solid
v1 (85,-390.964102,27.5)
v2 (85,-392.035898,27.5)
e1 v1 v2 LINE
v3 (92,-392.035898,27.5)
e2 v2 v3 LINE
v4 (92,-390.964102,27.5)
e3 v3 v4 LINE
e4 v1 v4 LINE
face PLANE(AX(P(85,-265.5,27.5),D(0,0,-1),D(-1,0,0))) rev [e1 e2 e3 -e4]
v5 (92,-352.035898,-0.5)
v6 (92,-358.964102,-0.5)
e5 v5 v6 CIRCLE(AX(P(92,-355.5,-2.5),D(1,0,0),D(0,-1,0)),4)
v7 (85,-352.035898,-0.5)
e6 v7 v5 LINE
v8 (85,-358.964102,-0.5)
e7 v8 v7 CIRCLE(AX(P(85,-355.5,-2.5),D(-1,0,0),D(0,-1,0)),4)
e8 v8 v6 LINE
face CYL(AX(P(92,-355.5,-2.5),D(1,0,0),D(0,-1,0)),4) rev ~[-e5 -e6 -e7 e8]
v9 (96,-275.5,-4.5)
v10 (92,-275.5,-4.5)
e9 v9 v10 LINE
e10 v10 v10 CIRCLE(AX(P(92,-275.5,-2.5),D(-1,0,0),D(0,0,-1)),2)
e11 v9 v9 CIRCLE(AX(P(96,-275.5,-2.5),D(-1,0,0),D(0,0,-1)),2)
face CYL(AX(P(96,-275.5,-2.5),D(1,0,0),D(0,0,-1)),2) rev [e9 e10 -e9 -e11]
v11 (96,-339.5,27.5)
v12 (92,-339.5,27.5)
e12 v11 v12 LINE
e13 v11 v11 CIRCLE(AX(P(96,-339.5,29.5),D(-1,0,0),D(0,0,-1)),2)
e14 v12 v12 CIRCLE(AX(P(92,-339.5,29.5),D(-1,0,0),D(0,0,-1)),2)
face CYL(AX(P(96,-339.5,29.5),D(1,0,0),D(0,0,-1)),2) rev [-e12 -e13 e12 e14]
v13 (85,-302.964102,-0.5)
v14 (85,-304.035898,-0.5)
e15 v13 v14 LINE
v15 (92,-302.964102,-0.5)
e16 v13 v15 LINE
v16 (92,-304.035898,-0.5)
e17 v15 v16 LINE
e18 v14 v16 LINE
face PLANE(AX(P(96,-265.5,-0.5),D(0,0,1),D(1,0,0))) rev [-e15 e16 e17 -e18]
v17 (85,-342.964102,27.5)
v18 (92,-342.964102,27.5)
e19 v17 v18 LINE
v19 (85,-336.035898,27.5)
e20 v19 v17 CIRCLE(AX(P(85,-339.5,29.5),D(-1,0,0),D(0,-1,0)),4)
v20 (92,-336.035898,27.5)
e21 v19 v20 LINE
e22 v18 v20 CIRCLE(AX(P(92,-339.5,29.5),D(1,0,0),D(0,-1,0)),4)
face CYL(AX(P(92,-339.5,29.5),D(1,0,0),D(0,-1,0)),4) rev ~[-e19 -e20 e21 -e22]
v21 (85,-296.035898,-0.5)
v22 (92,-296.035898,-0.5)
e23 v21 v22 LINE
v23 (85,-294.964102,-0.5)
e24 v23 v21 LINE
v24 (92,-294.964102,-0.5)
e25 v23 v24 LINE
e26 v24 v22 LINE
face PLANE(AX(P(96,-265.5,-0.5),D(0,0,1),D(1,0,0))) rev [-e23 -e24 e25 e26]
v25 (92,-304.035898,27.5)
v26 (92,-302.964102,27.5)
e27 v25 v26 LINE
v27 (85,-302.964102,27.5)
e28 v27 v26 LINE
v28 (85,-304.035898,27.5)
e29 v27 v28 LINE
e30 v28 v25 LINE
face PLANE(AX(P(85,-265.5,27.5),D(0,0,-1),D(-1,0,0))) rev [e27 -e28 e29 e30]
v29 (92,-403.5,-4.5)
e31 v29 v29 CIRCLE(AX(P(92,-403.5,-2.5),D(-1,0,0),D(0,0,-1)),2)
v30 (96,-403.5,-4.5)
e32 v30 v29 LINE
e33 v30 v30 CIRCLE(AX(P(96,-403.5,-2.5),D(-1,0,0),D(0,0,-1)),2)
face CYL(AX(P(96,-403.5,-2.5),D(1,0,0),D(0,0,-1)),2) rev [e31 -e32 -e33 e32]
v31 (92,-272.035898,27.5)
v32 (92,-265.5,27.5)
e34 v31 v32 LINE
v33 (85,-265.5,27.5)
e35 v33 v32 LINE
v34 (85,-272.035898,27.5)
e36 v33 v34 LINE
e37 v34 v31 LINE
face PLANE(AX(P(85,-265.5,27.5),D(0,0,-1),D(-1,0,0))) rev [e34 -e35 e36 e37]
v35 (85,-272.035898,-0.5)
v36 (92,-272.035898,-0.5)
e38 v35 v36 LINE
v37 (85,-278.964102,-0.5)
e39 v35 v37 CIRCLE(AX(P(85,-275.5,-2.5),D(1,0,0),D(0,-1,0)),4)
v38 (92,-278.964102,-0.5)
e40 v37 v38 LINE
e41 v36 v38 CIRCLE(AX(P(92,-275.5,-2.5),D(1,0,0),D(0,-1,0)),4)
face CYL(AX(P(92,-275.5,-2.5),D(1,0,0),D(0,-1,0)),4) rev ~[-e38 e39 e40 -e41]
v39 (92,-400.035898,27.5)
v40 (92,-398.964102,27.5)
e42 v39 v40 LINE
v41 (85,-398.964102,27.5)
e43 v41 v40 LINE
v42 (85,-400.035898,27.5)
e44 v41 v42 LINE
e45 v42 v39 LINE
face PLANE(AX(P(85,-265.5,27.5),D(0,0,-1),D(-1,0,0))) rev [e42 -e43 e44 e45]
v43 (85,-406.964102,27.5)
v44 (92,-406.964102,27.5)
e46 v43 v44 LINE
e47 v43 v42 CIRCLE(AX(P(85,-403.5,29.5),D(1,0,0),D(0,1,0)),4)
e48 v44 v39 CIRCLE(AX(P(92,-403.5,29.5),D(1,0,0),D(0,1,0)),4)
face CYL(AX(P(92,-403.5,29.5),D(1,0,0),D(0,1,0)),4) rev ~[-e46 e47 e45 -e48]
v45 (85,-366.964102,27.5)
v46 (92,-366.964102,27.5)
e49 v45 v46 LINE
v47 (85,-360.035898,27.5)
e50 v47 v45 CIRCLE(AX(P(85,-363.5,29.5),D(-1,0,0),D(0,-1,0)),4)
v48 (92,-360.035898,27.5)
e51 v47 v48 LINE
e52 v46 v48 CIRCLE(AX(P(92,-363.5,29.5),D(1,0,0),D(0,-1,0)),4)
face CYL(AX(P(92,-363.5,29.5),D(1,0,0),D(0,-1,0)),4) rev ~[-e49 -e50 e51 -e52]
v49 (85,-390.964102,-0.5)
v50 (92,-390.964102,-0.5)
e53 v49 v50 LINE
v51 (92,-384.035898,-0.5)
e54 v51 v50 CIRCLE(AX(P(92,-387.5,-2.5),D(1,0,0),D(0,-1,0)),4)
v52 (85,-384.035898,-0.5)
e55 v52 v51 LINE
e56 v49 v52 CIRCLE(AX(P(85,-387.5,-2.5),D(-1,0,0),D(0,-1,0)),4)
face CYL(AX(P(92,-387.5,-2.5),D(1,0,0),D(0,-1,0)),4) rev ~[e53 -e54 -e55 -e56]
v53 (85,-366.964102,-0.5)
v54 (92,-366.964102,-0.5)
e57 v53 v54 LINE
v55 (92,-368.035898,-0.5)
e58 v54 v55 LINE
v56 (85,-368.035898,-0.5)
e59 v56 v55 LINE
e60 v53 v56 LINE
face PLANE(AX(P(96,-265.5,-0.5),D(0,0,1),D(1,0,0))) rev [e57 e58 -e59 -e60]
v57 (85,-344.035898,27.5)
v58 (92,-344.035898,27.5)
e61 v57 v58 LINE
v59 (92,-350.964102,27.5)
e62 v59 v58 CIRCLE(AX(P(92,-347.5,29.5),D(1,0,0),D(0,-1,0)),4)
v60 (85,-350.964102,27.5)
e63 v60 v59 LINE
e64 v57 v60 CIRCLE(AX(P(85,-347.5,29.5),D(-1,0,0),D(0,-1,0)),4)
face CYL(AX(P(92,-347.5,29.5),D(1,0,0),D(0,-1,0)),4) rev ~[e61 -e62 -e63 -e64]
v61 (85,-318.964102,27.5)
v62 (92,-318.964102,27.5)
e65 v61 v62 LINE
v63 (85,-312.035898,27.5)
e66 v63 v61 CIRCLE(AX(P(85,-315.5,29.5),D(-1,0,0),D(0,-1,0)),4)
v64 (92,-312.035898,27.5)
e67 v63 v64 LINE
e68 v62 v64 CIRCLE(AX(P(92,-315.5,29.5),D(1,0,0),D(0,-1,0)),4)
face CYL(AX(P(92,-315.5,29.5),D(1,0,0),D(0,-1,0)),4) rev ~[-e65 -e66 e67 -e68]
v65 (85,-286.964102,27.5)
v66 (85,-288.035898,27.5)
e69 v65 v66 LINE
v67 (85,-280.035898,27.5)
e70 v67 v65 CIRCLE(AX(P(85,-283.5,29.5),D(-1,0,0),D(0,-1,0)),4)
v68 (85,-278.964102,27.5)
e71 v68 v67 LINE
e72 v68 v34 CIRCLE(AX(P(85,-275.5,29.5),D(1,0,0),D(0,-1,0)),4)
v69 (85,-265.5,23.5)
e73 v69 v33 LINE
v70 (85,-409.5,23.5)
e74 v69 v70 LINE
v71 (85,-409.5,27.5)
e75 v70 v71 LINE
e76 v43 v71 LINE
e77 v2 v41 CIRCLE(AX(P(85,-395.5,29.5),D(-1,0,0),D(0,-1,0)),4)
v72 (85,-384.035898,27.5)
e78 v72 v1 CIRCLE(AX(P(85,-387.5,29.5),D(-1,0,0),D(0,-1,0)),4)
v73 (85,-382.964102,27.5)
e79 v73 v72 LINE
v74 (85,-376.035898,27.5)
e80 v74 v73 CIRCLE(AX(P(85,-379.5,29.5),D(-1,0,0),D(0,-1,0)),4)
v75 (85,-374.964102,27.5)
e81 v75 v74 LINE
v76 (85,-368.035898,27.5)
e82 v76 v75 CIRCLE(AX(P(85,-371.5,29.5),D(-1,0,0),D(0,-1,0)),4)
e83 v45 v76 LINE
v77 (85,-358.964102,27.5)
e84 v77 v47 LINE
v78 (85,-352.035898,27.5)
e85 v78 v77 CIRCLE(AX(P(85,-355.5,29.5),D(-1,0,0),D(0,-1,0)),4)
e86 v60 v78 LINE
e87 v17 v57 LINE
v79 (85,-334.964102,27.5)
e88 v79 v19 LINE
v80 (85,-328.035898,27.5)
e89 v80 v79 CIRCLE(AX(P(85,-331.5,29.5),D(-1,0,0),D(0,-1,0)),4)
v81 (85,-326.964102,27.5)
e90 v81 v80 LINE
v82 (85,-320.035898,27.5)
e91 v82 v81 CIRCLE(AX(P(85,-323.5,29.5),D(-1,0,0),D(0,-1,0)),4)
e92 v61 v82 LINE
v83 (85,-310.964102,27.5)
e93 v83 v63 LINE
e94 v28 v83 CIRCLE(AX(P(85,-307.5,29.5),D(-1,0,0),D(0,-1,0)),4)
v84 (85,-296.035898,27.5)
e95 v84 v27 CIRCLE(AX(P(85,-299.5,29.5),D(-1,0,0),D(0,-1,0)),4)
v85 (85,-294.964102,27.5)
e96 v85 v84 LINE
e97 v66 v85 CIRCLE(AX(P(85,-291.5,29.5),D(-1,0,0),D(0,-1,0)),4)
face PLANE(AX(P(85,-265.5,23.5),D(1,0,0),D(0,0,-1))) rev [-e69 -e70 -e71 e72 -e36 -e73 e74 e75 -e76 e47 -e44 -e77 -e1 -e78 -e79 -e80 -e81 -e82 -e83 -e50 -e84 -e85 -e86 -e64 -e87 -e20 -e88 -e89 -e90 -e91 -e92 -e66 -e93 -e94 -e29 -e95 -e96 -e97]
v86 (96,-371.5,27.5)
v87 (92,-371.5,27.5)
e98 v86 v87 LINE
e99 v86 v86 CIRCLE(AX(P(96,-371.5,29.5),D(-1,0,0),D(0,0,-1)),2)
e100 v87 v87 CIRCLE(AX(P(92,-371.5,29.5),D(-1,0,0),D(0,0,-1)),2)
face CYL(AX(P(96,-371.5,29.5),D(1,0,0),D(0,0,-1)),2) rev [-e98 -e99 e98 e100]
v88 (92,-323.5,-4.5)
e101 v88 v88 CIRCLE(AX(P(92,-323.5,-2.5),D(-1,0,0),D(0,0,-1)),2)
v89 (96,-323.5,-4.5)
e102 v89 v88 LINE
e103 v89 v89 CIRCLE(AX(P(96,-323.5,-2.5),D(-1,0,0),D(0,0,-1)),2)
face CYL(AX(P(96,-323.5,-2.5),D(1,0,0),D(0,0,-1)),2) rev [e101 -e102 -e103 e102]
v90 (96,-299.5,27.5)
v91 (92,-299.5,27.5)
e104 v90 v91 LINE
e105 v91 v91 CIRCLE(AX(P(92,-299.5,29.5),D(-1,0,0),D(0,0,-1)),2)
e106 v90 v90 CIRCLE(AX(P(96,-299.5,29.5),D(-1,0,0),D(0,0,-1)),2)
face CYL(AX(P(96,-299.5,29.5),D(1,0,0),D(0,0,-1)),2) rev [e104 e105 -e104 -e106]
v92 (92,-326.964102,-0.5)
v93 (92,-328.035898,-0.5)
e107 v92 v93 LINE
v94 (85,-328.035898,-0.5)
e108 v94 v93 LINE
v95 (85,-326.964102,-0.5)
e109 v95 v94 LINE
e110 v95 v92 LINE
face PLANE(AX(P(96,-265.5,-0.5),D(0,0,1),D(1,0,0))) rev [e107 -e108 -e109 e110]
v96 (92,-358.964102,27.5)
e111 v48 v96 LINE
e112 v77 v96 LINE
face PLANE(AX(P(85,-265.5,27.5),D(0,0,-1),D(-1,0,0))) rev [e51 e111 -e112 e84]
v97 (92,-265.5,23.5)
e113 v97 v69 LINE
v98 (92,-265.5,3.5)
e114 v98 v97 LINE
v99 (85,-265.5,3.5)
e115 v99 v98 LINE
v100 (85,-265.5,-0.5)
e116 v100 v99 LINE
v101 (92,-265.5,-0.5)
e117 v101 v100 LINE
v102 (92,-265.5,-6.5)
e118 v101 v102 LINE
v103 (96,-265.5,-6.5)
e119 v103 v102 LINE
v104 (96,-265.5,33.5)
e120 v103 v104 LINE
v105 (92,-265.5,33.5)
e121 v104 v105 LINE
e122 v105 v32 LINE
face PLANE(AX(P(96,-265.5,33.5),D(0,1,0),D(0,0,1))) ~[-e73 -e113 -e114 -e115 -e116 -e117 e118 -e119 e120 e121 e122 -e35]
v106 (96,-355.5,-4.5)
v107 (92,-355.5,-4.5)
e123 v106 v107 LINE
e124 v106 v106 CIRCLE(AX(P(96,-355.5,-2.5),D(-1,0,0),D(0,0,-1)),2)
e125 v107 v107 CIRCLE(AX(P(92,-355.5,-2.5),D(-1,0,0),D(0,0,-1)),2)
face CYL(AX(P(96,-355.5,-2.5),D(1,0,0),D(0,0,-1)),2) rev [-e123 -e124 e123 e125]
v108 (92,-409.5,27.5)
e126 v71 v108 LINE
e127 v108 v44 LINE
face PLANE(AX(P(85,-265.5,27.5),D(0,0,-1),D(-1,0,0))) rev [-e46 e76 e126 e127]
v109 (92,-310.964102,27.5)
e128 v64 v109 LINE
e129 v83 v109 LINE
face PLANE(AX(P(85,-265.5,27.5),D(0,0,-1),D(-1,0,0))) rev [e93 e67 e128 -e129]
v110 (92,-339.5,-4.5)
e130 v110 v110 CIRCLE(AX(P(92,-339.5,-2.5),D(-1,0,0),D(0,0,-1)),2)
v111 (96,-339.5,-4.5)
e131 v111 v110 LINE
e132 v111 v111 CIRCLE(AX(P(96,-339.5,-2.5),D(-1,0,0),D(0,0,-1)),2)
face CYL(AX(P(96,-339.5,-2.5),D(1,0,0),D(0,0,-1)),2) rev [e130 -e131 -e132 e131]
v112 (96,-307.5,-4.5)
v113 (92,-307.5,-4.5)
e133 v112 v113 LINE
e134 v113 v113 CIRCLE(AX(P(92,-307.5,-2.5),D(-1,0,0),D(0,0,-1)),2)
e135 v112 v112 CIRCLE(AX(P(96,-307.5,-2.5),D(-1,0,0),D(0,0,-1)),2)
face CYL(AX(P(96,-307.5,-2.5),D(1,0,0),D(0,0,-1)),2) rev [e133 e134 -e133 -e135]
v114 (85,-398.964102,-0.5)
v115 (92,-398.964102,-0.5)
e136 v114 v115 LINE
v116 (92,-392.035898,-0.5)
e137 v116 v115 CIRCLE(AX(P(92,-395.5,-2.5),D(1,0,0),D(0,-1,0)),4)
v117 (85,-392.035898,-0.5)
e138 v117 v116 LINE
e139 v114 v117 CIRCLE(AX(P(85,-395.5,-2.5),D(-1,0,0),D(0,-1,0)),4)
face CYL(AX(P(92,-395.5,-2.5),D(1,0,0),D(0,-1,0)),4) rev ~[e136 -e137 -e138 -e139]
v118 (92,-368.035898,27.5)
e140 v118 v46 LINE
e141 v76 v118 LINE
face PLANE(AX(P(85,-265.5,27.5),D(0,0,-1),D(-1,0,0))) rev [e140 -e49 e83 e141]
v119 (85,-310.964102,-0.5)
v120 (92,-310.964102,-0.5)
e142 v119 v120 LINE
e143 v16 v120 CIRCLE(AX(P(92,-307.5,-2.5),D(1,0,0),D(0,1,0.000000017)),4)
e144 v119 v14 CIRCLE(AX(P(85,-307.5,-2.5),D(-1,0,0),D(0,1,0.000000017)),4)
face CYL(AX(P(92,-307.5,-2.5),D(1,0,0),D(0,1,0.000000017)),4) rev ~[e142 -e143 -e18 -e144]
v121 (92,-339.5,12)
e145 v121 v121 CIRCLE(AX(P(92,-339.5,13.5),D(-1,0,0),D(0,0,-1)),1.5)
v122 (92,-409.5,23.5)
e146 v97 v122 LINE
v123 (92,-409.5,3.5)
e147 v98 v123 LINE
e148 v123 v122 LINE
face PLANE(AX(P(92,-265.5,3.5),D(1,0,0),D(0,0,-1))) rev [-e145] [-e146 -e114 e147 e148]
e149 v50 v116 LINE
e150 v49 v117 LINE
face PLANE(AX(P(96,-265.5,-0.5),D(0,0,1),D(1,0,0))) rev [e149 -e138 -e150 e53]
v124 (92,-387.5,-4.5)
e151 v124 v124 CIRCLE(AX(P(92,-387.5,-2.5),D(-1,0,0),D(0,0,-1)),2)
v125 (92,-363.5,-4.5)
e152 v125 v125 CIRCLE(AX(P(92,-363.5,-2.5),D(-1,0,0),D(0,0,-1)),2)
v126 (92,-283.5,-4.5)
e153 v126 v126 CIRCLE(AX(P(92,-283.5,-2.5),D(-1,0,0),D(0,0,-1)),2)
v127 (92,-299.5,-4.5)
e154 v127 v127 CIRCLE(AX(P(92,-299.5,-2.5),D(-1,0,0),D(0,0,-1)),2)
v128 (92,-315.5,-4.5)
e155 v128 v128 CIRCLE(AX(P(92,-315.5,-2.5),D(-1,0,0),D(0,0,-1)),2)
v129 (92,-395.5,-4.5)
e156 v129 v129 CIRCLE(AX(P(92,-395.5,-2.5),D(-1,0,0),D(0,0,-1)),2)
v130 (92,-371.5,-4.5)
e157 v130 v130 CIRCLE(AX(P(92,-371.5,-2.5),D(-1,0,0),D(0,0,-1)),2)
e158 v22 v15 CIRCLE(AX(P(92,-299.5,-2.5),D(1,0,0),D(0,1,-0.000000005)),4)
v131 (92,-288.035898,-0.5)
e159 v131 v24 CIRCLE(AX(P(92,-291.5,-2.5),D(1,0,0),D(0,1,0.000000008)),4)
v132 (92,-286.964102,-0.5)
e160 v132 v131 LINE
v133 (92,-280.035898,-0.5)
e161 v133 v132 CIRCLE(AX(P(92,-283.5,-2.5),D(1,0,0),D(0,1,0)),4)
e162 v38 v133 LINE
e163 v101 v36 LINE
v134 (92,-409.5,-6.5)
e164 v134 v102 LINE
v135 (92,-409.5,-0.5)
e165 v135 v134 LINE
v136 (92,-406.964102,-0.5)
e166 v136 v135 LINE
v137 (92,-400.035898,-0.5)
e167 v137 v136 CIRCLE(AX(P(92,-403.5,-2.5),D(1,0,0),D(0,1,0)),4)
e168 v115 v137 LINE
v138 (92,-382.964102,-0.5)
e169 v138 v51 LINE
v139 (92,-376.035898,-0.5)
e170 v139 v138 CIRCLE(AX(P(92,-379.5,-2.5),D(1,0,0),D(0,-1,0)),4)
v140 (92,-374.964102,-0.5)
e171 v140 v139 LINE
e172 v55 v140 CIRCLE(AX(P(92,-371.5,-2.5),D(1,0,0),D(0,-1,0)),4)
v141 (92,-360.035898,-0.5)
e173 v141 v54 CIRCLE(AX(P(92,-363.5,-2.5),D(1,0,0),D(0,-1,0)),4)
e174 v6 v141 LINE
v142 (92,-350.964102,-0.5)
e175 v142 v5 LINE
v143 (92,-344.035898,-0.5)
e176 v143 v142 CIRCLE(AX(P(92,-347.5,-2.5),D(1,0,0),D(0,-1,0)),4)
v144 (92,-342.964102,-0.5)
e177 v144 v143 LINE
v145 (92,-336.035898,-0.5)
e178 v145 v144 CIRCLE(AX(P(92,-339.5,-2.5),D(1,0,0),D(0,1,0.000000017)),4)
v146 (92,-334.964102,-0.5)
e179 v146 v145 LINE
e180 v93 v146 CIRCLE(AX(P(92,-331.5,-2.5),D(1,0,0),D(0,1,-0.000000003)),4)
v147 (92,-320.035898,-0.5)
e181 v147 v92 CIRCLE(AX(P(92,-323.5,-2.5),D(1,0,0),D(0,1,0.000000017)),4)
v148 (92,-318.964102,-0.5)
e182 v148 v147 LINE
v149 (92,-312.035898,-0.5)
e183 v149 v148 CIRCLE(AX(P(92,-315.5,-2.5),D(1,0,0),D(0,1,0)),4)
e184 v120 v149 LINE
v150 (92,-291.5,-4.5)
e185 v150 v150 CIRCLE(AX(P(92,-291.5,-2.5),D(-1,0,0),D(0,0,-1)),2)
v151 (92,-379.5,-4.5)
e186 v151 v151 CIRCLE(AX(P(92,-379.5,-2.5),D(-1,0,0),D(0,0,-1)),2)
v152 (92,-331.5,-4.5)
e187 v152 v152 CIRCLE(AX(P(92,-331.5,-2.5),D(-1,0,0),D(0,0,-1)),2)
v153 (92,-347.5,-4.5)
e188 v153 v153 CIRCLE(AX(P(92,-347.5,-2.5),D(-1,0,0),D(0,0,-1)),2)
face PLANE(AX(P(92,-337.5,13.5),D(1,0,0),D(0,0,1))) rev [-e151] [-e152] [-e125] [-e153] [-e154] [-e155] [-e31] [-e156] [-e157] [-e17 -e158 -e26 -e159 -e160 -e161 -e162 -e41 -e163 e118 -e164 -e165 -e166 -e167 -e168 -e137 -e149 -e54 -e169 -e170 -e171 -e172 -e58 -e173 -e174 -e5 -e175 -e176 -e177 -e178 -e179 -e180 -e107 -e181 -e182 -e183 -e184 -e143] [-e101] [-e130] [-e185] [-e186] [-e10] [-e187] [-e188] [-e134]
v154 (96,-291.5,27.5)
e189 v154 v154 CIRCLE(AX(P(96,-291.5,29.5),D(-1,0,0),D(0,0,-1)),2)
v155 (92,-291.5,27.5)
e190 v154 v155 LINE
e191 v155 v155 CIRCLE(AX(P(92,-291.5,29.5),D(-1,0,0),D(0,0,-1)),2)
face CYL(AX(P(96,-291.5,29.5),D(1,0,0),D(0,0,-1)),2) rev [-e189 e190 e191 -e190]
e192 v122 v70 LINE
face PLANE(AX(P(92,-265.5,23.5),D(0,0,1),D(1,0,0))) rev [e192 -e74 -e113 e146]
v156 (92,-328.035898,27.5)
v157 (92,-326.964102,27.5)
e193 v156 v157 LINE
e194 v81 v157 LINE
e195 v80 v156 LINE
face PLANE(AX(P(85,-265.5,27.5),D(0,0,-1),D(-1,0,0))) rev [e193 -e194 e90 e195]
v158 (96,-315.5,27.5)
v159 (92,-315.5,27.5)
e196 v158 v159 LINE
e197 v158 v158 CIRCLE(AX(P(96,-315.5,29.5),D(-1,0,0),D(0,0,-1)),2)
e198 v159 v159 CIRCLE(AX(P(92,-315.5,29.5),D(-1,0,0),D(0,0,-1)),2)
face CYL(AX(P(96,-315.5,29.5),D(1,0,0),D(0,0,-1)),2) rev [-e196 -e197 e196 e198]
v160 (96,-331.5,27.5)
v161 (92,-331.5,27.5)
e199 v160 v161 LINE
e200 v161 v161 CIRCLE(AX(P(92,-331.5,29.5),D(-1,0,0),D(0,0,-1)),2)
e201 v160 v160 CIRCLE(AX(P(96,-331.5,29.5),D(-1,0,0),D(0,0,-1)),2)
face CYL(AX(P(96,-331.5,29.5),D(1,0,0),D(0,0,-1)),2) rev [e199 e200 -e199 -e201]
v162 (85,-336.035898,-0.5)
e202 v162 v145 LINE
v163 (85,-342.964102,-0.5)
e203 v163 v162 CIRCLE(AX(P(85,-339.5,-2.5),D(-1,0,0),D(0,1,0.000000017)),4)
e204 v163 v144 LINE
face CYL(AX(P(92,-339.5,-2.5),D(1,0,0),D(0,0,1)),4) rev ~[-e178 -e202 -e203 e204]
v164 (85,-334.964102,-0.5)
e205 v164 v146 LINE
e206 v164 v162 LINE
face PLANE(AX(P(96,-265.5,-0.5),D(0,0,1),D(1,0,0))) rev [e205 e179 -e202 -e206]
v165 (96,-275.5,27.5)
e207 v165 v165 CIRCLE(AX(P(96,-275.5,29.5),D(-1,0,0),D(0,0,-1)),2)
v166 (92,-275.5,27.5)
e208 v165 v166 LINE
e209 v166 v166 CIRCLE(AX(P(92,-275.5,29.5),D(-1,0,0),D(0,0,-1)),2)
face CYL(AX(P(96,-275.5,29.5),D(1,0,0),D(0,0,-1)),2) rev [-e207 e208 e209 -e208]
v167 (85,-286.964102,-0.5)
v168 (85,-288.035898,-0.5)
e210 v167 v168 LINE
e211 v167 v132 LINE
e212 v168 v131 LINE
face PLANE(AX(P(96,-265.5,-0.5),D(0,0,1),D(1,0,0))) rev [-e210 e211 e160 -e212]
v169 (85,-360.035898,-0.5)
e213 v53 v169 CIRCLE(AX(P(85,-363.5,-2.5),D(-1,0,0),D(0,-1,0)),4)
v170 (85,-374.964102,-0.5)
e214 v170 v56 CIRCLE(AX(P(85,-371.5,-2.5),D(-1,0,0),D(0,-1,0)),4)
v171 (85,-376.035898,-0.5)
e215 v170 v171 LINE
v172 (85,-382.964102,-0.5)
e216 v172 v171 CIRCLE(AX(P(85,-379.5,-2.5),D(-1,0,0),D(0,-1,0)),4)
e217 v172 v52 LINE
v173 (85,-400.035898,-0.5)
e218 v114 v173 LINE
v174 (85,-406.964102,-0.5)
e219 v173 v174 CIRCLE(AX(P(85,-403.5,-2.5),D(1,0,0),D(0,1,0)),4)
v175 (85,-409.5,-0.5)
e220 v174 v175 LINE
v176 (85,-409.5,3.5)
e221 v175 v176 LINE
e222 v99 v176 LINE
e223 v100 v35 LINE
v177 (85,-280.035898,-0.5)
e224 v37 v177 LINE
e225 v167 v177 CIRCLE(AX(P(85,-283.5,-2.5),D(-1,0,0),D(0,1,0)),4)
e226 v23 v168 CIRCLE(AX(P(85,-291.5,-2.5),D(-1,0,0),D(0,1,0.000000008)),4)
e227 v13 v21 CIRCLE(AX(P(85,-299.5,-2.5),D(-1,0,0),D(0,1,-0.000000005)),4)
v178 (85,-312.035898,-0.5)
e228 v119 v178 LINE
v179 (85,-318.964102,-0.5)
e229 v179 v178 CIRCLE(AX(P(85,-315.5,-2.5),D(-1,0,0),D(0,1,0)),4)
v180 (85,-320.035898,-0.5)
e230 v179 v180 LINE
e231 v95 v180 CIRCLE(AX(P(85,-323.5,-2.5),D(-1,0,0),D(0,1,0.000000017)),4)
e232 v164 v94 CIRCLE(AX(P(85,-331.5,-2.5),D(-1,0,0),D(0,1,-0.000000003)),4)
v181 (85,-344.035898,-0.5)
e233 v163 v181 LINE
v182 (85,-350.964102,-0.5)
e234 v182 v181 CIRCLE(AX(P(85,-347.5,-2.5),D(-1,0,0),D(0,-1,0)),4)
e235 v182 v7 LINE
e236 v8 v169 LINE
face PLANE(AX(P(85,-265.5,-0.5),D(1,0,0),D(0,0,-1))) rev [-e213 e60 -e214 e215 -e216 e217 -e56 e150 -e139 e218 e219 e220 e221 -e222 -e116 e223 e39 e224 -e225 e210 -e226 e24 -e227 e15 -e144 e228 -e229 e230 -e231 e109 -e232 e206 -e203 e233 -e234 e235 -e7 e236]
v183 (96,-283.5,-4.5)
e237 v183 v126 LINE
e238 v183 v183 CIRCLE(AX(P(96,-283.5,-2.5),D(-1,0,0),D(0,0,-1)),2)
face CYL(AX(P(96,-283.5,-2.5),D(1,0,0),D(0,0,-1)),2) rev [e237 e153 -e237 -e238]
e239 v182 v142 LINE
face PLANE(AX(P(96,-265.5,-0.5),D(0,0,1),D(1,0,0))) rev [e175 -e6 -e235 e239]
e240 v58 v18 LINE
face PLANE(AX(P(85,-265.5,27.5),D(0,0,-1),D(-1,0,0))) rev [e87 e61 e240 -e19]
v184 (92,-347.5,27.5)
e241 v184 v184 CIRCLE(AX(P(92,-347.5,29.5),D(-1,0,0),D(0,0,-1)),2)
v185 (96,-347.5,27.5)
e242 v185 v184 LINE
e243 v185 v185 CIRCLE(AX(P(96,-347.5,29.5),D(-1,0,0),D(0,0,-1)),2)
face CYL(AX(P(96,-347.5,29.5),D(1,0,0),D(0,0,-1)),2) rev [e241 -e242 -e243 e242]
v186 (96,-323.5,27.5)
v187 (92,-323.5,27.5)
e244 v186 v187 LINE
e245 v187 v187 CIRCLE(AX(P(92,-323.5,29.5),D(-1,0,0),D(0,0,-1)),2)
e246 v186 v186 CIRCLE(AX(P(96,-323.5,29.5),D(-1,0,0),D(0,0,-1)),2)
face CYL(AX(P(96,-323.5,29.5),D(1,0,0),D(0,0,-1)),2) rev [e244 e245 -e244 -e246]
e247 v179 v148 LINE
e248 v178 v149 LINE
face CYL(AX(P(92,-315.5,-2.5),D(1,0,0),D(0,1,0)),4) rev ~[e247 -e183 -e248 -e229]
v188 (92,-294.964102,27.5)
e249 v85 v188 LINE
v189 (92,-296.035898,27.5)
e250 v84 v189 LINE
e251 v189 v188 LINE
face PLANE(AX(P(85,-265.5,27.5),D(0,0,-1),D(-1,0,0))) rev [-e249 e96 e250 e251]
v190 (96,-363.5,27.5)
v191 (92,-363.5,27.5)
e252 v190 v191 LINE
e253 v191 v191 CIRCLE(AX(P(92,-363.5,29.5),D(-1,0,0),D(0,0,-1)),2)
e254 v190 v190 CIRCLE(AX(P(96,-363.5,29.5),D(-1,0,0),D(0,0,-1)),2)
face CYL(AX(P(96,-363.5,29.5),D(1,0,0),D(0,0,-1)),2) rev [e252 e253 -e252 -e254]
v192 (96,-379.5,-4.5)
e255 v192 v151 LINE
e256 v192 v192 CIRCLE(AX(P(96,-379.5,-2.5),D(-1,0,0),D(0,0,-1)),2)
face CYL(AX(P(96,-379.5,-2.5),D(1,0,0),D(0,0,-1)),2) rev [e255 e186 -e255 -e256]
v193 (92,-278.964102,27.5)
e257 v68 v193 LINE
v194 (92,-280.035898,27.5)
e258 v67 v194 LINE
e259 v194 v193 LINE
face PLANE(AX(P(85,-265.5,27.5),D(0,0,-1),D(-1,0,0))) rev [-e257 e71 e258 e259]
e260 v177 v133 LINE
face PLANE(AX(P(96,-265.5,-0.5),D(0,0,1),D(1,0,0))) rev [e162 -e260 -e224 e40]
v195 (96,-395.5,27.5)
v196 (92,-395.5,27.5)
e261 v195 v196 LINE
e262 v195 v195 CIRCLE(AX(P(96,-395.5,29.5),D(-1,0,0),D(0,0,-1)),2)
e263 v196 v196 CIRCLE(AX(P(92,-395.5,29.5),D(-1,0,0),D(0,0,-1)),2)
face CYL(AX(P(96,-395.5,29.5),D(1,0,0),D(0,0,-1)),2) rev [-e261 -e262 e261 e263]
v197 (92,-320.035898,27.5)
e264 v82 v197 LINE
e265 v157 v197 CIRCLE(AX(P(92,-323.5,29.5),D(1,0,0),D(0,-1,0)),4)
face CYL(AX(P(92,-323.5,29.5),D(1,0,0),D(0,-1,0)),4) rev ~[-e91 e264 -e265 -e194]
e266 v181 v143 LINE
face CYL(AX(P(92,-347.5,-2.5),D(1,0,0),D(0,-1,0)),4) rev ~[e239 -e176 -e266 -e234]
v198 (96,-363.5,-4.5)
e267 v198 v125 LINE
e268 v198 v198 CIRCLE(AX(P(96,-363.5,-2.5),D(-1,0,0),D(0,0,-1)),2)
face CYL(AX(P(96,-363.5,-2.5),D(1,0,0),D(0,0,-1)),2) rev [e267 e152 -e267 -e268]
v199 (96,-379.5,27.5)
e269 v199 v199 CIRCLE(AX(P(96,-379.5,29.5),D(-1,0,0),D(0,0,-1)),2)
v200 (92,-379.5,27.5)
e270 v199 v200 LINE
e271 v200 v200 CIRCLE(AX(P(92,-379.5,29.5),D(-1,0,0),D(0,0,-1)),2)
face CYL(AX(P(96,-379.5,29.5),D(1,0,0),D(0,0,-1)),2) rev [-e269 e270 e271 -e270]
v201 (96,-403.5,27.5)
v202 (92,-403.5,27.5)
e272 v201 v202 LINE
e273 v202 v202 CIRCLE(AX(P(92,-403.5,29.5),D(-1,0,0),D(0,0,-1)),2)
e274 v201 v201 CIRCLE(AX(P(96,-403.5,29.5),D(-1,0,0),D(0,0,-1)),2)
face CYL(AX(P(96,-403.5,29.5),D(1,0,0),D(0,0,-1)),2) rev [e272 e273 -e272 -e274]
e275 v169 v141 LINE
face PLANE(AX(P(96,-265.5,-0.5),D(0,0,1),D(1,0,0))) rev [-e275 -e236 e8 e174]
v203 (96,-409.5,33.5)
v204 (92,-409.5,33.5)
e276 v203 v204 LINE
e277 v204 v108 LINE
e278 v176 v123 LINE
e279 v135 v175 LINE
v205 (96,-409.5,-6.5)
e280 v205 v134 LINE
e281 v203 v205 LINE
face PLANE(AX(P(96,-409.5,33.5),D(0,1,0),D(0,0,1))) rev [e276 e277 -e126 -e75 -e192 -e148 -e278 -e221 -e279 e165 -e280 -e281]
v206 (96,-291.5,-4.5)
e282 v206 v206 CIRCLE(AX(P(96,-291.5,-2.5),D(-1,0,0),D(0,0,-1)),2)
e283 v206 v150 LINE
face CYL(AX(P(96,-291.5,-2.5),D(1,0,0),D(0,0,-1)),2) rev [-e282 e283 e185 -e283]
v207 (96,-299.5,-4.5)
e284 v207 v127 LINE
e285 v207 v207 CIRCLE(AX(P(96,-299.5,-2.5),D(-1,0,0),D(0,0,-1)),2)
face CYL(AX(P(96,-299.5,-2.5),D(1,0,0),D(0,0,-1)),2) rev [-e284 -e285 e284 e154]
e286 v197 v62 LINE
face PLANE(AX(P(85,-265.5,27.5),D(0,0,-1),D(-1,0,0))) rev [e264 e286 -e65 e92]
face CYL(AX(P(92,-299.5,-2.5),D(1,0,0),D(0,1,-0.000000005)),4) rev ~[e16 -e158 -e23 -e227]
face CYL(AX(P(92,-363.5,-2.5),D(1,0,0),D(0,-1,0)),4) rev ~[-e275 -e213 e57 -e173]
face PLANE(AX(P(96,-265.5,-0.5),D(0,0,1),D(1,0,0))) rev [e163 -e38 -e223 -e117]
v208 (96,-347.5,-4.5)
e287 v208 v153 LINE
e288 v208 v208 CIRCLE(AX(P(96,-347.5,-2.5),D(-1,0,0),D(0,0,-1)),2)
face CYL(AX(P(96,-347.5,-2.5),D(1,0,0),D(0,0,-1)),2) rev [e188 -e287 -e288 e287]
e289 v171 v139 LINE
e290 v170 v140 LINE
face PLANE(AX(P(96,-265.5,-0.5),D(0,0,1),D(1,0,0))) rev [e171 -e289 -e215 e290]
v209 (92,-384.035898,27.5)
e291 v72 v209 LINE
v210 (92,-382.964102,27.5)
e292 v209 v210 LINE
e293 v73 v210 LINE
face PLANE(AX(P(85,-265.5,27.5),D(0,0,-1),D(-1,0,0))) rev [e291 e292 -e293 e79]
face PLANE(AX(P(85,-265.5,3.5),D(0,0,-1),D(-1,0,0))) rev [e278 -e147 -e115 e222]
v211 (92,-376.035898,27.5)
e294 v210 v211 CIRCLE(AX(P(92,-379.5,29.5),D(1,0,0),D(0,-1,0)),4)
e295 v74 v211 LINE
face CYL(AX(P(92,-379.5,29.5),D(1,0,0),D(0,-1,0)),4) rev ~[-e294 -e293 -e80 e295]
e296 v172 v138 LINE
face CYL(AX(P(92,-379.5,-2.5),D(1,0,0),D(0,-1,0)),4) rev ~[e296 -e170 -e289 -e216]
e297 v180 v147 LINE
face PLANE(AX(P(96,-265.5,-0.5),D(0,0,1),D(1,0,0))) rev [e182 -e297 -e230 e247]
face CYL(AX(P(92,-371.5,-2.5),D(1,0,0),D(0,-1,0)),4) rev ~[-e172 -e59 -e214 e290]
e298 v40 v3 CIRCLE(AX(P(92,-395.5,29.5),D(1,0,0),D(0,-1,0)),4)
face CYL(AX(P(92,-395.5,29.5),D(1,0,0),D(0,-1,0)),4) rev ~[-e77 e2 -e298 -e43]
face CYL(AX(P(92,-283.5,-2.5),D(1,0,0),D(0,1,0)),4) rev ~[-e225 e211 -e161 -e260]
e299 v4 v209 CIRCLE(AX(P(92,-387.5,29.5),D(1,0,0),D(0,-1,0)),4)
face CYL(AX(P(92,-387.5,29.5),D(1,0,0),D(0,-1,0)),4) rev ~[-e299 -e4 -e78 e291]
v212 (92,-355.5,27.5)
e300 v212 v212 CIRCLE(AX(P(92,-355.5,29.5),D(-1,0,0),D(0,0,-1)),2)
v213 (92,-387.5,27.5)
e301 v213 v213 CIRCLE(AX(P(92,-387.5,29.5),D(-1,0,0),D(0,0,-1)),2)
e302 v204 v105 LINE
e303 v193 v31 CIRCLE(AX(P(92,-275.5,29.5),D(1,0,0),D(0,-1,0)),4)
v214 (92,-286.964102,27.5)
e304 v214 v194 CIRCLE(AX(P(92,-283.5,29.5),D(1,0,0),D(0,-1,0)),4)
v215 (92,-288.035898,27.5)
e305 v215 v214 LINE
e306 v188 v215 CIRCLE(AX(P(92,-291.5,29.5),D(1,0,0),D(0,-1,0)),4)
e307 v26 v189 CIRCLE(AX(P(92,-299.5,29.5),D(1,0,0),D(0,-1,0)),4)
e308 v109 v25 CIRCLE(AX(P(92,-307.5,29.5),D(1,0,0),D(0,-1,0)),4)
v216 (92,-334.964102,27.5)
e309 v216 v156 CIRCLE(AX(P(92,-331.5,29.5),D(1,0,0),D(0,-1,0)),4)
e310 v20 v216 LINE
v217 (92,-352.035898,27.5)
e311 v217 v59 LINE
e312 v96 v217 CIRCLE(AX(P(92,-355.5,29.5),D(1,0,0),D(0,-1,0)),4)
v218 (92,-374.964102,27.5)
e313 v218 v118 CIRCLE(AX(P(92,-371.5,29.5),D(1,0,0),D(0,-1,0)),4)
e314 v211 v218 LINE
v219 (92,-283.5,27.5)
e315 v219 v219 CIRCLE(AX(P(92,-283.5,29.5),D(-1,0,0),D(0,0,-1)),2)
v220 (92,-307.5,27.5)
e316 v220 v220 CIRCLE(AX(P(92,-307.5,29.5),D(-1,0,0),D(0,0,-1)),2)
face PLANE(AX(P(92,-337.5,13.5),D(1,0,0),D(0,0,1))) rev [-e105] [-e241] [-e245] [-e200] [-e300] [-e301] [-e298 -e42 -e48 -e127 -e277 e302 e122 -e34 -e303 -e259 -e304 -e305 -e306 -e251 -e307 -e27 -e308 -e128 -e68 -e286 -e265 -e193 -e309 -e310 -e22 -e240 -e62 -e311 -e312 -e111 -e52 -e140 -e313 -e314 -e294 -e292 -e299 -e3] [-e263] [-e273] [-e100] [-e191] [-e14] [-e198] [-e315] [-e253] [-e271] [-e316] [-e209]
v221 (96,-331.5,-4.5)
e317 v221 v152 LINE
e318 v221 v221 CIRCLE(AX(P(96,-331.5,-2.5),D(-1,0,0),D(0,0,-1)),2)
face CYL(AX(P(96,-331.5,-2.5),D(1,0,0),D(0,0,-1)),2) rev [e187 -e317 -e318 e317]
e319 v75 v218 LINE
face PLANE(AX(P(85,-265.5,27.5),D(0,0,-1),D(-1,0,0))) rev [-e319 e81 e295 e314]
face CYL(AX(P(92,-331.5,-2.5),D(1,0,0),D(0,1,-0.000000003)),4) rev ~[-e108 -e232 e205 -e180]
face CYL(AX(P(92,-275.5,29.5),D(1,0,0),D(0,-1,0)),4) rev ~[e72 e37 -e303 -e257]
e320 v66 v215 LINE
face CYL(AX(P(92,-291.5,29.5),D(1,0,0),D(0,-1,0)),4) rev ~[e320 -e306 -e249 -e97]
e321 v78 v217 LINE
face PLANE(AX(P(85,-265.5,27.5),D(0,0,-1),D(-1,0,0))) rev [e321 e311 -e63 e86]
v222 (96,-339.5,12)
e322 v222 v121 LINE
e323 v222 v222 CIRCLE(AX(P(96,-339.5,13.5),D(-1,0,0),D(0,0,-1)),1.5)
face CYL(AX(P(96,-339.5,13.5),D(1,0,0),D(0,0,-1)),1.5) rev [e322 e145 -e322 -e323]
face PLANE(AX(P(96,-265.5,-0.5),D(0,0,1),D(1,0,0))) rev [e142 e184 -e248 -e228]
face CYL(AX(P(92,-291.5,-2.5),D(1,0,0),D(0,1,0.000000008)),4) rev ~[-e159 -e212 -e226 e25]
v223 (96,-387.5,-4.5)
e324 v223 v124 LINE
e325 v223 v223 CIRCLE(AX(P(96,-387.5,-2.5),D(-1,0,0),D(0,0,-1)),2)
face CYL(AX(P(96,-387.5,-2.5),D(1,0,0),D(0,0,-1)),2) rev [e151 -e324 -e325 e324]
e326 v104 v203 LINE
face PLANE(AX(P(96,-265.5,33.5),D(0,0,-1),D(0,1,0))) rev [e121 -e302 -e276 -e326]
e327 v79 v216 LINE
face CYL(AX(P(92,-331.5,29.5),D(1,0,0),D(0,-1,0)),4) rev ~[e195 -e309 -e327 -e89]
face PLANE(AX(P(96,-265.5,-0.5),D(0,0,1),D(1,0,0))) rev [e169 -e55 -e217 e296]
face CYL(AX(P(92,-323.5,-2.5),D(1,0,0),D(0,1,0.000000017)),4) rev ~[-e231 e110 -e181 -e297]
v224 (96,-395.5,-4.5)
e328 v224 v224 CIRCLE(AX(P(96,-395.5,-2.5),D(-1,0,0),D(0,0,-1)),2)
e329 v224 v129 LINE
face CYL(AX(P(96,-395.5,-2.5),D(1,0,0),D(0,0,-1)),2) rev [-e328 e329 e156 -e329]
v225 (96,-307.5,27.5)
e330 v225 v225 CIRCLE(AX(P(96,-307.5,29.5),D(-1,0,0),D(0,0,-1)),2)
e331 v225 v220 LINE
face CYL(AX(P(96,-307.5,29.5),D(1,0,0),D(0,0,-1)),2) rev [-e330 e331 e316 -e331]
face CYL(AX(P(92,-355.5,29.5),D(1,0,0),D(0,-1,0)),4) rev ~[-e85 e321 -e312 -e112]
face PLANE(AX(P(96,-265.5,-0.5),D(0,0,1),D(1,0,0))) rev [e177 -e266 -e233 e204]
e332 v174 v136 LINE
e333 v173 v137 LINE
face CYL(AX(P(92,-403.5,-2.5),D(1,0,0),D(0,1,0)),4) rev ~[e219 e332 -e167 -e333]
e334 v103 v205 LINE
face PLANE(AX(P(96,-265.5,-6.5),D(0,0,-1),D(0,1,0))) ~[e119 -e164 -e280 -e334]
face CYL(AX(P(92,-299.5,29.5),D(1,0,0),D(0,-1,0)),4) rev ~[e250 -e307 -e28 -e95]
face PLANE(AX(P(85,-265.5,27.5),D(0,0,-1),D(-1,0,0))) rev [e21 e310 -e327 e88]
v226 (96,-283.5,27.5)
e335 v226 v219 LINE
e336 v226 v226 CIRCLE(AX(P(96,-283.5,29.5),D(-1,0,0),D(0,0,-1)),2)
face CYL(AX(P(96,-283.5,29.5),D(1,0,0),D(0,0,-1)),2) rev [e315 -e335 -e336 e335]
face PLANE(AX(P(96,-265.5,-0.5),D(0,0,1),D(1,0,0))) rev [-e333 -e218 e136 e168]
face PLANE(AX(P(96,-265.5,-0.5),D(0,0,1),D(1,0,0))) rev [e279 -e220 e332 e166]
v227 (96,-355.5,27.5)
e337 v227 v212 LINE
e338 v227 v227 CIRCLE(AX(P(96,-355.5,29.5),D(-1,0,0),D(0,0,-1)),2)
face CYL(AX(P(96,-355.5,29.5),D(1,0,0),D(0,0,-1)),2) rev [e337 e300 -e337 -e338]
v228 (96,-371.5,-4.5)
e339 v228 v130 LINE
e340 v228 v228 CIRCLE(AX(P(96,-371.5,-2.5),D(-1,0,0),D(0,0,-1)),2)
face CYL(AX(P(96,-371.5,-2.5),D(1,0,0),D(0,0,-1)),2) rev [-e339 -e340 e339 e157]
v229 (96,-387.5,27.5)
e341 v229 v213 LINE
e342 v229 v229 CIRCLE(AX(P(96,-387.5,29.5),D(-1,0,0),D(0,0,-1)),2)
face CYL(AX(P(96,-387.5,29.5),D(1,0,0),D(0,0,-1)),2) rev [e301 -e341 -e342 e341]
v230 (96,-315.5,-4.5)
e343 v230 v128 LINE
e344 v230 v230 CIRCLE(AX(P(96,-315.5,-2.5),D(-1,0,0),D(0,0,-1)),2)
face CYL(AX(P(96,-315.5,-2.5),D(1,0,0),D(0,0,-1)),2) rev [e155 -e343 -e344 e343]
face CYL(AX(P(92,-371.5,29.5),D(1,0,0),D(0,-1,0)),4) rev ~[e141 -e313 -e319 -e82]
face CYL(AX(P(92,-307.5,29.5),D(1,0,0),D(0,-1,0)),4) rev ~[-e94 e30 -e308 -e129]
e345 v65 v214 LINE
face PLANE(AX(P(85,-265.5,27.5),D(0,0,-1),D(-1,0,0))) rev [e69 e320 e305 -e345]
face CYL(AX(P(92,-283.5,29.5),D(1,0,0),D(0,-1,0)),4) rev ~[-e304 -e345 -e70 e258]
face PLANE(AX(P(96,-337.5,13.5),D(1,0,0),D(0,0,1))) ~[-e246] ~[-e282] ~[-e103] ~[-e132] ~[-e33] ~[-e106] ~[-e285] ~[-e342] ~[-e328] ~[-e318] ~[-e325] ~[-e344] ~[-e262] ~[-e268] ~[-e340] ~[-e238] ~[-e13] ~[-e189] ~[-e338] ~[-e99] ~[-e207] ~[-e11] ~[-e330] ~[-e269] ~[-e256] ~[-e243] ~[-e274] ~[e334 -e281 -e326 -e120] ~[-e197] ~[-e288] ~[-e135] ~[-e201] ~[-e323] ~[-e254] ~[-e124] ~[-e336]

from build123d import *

# Parameters (mm, degrees)
PAD004_DEPTH    = 144
SKETCH051_W     = 40
SKETCH051_H     = 144
PAD005_DEPTH    = 4
SKETCH052_R     = 1.5
POCKET019_DEPTH = 5
SKETCH014_R     = 2
POCKET020_DEPTH = 4
SKETCH015_R     = 4
POCKET021_DEPTH = 7


with BuildPart() as leftback001:
    # Sketch050 → Pad004 (new body)
    with BuildSketch(Plane.XZ):
        Polygon((0, 0), (0, 10), (7, 10), (7, 14), (-4, 14), (-4, -14), (7, -14), (7, -10), (0, -10), align=None)
    extrude(amount=PAD004_DEPTH)

    # Sketch051 (on Face4 of Pad004) → Pad005 (join)
    with BuildSketch(Plane(origin=(-4, 0, 0), x_dir=(0, 0, -1), z_dir=(-1, 0, 0))):
        with Locations((0, 72)):
            Rectangle(SKETCH051_W, SKETCH051_H)
    extrude(amount=-PAD005_DEPTH)

    # Sketch052 (on Face14 of Pad005) → Pocket019 (cut)
    with BuildSketch(Plane(origin=(-4, 0, 0), x_dir=(0, 0, -1), z_dir=(-1, 0, 0))):
        with Locations((0, 74)):
            Circle(SKETCH052_R)
    extrude(amount=-POCKET019_DEPTH, mode=Mode.SUBTRACT)

    # Sketch014 (on Face13 of Pocket019) → Pocket020 (cut)
    with BuildSketch(Plane(origin=(-4, 0, 0), x_dir=(0, 0, -1), z_dir=(-1, 0, 0))):
        with Locations((-16, 10)):
            Circle(SKETCH014_R)
        with Locations((-16, 18)):
            Circle(SKETCH014_R)
        with Locations((-16, 26)):
            Circle(SKETCH014_R)
        with Locations((-16, 34)):
            Circle(SKETCH014_R)
        with Locations((-16, 42)):
            Circle(SKETCH014_R)
        with Locations((-16, 50)):
            Circle(SKETCH014_R)
        with Locations((-16, 58)):
            Circle(SKETCH014_R)
        with Locations((-16, 66)):
            Circle(SKETCH014_R)
        with Locations((-16, 138)):
            Circle(SKETCH014_R)
        with Locations((-16, 130)):
            Circle(SKETCH014_R)
        with Locations((-16, 122)):
            Circle(SKETCH014_R)
        with Locations((-16, 114)):
            Circle(SKETCH014_R)
        with Locations((-16, 106)):
            Circle(SKETCH014_R)
        with Locations((-16, 98)):
            Circle(SKETCH014_R)
        with Locations((-16, 90)):
            Circle(SKETCH014_R)
        with Locations((-16, 82)):
            Circle(SKETCH014_R)
        with Locations((-16, 74)):
            Circle(SKETCH014_R)
        with Locations((16, 138)):
            Circle(SKETCH014_R)
        with Locations((16, 130)):
            Circle(SKETCH014_R)
        with Locations((16, 122)):
            Circle(SKETCH014_R)
        with Locations((16, 114)):
            Circle(SKETCH014_R)
        with Locations((16, 106)):
            Circle(SKETCH014_R)
        with Locations((16, 98)):
            Circle(SKETCH014_R)
        with Locations((16, 90)):
            Circle(SKETCH014_R)
        with Locations((16, 82)):
            Circle(SKETCH014_R)
        with Locations((16, 74)):
            Circle(SKETCH014_R)
        with Locations((16, 66)):
            Circle(SKETCH014_R)
        with Locations((16, 58)):
            Circle(SKETCH014_R)
        with Locations((16, 50)):
            Circle(SKETCH014_R)
        with Locations((16, 42)):
            Circle(SKETCH014_R)
        with Locations((16, 34)):
            Circle(SKETCH014_R)
        with Locations((16, 26)):
            Circle(SKETCH014_R)
        with Locations((16, 18)):
            Circle(SKETCH014_R)
        with Locations((16, 10)):
            Circle(SKETCH014_R)
    extrude(amount=-POCKET020_DEPTH, mode=Mode.SUBTRACT)

    # Sketch015 (on Face15 of Pocket019) → Pocket021 (cut)
    with BuildSketch(Plane(origin=(0, 0, 0), x_dir=(0, 0, 1), z_dir=(1, 0, 0))):
        with Locations((-16, 10)):
            Circle(SKETCH015_R)
        with Locations((-16, 18)):
            Circle(SKETCH015_R)
        with Locations((-16, 26)):
            Circle(SKETCH015_R)
        with Locations((-16, 34)):
            Circle(SKETCH015_R)
        with Locations((-16, 42)):
            Circle(SKETCH015_R)
        with Locations((-16, 50)):
            Circle(SKETCH015_R)
        with Locations((-16, 58)):
            Circle(SKETCH015_R)
        with Locations((-16, 66)):
            Circle(SKETCH015_R)
        with Locations((-16, 138)):
            Circle(SKETCH015_R)
        with Locations((-16, 130)):
            Circle(SKETCH015_R)
        with Locations((-16, 122)):
            Circle(SKETCH015_R)
        with Locations((-16, 114)):
            Circle(SKETCH015_R)
        with Locations((-16, 106)):
            Circle(SKETCH015_R)
        with Locations((-16, 98)):
            Circle(SKETCH015_R)
        with Locations((-16, 90)):
            Circle(SKETCH015_R)
        with Locations((-16, 82)):
            Circle(SKETCH015_R)
        with Locations((-16, 74)):
            Circle(SKETCH015_R)
        with Locations((16, 138)):
            Circle(SKETCH015_R)
        with Locations((16, 130)):
            Circle(SKETCH015_R)
        with Locations((16, 122)):
            Circle(SKETCH015_R)
        with Locations((16, 114)):
            Circle(SKETCH015_R)
        with Locations((16, 106)):
            Circle(SKETCH015_R)
        with Locations((16, 98)):
            Circle(SKETCH015_R)
        with Locations((16, 90)):
            Circle(SKETCH015_R)
        with Locations((16, 82)):
            Circle(SKETCH015_R)
        with Locations((16, 74)):
            Circle(SKETCH015_R)
        with Locations((16, 66)):
            Circle(SKETCH015_R)
        with Locations((16, 58)):
            Circle(SKETCH015_R)
        with Locations((16, 50)):
            Circle(SKETCH015_R)
        with Locations((16, 42)):
            Circle(SKETCH015_R)
        with Locations((16, 34)):
            Circle(SKETCH015_R)
        with Locations((16, 26)):
            Circle(SKETCH015_R)
        with Locations((16, 18)):
            Circle(SKETCH015_R)
        with Locations((16, 10)):
            Circle(SKETCH015_R)
    extrude(amount=POCKET021_DEPTH, mode=Mode.SUBTRACT)


with BuildPart() as leftback001_1:
    # Body016 placement: moved
    add(leftback001.part.moved(Location((-92, -265.5, 13.5))))


with BuildPart() as rightback001:
    # Part__Mirroring004: instance of LeftBack001
    add(leftback001_1.part.mirror(Plane(origin=(0, 0, 0), x_dir=(0, -1, 0), z_dir=(1, 0, 0))))


solid = rightback001.part
